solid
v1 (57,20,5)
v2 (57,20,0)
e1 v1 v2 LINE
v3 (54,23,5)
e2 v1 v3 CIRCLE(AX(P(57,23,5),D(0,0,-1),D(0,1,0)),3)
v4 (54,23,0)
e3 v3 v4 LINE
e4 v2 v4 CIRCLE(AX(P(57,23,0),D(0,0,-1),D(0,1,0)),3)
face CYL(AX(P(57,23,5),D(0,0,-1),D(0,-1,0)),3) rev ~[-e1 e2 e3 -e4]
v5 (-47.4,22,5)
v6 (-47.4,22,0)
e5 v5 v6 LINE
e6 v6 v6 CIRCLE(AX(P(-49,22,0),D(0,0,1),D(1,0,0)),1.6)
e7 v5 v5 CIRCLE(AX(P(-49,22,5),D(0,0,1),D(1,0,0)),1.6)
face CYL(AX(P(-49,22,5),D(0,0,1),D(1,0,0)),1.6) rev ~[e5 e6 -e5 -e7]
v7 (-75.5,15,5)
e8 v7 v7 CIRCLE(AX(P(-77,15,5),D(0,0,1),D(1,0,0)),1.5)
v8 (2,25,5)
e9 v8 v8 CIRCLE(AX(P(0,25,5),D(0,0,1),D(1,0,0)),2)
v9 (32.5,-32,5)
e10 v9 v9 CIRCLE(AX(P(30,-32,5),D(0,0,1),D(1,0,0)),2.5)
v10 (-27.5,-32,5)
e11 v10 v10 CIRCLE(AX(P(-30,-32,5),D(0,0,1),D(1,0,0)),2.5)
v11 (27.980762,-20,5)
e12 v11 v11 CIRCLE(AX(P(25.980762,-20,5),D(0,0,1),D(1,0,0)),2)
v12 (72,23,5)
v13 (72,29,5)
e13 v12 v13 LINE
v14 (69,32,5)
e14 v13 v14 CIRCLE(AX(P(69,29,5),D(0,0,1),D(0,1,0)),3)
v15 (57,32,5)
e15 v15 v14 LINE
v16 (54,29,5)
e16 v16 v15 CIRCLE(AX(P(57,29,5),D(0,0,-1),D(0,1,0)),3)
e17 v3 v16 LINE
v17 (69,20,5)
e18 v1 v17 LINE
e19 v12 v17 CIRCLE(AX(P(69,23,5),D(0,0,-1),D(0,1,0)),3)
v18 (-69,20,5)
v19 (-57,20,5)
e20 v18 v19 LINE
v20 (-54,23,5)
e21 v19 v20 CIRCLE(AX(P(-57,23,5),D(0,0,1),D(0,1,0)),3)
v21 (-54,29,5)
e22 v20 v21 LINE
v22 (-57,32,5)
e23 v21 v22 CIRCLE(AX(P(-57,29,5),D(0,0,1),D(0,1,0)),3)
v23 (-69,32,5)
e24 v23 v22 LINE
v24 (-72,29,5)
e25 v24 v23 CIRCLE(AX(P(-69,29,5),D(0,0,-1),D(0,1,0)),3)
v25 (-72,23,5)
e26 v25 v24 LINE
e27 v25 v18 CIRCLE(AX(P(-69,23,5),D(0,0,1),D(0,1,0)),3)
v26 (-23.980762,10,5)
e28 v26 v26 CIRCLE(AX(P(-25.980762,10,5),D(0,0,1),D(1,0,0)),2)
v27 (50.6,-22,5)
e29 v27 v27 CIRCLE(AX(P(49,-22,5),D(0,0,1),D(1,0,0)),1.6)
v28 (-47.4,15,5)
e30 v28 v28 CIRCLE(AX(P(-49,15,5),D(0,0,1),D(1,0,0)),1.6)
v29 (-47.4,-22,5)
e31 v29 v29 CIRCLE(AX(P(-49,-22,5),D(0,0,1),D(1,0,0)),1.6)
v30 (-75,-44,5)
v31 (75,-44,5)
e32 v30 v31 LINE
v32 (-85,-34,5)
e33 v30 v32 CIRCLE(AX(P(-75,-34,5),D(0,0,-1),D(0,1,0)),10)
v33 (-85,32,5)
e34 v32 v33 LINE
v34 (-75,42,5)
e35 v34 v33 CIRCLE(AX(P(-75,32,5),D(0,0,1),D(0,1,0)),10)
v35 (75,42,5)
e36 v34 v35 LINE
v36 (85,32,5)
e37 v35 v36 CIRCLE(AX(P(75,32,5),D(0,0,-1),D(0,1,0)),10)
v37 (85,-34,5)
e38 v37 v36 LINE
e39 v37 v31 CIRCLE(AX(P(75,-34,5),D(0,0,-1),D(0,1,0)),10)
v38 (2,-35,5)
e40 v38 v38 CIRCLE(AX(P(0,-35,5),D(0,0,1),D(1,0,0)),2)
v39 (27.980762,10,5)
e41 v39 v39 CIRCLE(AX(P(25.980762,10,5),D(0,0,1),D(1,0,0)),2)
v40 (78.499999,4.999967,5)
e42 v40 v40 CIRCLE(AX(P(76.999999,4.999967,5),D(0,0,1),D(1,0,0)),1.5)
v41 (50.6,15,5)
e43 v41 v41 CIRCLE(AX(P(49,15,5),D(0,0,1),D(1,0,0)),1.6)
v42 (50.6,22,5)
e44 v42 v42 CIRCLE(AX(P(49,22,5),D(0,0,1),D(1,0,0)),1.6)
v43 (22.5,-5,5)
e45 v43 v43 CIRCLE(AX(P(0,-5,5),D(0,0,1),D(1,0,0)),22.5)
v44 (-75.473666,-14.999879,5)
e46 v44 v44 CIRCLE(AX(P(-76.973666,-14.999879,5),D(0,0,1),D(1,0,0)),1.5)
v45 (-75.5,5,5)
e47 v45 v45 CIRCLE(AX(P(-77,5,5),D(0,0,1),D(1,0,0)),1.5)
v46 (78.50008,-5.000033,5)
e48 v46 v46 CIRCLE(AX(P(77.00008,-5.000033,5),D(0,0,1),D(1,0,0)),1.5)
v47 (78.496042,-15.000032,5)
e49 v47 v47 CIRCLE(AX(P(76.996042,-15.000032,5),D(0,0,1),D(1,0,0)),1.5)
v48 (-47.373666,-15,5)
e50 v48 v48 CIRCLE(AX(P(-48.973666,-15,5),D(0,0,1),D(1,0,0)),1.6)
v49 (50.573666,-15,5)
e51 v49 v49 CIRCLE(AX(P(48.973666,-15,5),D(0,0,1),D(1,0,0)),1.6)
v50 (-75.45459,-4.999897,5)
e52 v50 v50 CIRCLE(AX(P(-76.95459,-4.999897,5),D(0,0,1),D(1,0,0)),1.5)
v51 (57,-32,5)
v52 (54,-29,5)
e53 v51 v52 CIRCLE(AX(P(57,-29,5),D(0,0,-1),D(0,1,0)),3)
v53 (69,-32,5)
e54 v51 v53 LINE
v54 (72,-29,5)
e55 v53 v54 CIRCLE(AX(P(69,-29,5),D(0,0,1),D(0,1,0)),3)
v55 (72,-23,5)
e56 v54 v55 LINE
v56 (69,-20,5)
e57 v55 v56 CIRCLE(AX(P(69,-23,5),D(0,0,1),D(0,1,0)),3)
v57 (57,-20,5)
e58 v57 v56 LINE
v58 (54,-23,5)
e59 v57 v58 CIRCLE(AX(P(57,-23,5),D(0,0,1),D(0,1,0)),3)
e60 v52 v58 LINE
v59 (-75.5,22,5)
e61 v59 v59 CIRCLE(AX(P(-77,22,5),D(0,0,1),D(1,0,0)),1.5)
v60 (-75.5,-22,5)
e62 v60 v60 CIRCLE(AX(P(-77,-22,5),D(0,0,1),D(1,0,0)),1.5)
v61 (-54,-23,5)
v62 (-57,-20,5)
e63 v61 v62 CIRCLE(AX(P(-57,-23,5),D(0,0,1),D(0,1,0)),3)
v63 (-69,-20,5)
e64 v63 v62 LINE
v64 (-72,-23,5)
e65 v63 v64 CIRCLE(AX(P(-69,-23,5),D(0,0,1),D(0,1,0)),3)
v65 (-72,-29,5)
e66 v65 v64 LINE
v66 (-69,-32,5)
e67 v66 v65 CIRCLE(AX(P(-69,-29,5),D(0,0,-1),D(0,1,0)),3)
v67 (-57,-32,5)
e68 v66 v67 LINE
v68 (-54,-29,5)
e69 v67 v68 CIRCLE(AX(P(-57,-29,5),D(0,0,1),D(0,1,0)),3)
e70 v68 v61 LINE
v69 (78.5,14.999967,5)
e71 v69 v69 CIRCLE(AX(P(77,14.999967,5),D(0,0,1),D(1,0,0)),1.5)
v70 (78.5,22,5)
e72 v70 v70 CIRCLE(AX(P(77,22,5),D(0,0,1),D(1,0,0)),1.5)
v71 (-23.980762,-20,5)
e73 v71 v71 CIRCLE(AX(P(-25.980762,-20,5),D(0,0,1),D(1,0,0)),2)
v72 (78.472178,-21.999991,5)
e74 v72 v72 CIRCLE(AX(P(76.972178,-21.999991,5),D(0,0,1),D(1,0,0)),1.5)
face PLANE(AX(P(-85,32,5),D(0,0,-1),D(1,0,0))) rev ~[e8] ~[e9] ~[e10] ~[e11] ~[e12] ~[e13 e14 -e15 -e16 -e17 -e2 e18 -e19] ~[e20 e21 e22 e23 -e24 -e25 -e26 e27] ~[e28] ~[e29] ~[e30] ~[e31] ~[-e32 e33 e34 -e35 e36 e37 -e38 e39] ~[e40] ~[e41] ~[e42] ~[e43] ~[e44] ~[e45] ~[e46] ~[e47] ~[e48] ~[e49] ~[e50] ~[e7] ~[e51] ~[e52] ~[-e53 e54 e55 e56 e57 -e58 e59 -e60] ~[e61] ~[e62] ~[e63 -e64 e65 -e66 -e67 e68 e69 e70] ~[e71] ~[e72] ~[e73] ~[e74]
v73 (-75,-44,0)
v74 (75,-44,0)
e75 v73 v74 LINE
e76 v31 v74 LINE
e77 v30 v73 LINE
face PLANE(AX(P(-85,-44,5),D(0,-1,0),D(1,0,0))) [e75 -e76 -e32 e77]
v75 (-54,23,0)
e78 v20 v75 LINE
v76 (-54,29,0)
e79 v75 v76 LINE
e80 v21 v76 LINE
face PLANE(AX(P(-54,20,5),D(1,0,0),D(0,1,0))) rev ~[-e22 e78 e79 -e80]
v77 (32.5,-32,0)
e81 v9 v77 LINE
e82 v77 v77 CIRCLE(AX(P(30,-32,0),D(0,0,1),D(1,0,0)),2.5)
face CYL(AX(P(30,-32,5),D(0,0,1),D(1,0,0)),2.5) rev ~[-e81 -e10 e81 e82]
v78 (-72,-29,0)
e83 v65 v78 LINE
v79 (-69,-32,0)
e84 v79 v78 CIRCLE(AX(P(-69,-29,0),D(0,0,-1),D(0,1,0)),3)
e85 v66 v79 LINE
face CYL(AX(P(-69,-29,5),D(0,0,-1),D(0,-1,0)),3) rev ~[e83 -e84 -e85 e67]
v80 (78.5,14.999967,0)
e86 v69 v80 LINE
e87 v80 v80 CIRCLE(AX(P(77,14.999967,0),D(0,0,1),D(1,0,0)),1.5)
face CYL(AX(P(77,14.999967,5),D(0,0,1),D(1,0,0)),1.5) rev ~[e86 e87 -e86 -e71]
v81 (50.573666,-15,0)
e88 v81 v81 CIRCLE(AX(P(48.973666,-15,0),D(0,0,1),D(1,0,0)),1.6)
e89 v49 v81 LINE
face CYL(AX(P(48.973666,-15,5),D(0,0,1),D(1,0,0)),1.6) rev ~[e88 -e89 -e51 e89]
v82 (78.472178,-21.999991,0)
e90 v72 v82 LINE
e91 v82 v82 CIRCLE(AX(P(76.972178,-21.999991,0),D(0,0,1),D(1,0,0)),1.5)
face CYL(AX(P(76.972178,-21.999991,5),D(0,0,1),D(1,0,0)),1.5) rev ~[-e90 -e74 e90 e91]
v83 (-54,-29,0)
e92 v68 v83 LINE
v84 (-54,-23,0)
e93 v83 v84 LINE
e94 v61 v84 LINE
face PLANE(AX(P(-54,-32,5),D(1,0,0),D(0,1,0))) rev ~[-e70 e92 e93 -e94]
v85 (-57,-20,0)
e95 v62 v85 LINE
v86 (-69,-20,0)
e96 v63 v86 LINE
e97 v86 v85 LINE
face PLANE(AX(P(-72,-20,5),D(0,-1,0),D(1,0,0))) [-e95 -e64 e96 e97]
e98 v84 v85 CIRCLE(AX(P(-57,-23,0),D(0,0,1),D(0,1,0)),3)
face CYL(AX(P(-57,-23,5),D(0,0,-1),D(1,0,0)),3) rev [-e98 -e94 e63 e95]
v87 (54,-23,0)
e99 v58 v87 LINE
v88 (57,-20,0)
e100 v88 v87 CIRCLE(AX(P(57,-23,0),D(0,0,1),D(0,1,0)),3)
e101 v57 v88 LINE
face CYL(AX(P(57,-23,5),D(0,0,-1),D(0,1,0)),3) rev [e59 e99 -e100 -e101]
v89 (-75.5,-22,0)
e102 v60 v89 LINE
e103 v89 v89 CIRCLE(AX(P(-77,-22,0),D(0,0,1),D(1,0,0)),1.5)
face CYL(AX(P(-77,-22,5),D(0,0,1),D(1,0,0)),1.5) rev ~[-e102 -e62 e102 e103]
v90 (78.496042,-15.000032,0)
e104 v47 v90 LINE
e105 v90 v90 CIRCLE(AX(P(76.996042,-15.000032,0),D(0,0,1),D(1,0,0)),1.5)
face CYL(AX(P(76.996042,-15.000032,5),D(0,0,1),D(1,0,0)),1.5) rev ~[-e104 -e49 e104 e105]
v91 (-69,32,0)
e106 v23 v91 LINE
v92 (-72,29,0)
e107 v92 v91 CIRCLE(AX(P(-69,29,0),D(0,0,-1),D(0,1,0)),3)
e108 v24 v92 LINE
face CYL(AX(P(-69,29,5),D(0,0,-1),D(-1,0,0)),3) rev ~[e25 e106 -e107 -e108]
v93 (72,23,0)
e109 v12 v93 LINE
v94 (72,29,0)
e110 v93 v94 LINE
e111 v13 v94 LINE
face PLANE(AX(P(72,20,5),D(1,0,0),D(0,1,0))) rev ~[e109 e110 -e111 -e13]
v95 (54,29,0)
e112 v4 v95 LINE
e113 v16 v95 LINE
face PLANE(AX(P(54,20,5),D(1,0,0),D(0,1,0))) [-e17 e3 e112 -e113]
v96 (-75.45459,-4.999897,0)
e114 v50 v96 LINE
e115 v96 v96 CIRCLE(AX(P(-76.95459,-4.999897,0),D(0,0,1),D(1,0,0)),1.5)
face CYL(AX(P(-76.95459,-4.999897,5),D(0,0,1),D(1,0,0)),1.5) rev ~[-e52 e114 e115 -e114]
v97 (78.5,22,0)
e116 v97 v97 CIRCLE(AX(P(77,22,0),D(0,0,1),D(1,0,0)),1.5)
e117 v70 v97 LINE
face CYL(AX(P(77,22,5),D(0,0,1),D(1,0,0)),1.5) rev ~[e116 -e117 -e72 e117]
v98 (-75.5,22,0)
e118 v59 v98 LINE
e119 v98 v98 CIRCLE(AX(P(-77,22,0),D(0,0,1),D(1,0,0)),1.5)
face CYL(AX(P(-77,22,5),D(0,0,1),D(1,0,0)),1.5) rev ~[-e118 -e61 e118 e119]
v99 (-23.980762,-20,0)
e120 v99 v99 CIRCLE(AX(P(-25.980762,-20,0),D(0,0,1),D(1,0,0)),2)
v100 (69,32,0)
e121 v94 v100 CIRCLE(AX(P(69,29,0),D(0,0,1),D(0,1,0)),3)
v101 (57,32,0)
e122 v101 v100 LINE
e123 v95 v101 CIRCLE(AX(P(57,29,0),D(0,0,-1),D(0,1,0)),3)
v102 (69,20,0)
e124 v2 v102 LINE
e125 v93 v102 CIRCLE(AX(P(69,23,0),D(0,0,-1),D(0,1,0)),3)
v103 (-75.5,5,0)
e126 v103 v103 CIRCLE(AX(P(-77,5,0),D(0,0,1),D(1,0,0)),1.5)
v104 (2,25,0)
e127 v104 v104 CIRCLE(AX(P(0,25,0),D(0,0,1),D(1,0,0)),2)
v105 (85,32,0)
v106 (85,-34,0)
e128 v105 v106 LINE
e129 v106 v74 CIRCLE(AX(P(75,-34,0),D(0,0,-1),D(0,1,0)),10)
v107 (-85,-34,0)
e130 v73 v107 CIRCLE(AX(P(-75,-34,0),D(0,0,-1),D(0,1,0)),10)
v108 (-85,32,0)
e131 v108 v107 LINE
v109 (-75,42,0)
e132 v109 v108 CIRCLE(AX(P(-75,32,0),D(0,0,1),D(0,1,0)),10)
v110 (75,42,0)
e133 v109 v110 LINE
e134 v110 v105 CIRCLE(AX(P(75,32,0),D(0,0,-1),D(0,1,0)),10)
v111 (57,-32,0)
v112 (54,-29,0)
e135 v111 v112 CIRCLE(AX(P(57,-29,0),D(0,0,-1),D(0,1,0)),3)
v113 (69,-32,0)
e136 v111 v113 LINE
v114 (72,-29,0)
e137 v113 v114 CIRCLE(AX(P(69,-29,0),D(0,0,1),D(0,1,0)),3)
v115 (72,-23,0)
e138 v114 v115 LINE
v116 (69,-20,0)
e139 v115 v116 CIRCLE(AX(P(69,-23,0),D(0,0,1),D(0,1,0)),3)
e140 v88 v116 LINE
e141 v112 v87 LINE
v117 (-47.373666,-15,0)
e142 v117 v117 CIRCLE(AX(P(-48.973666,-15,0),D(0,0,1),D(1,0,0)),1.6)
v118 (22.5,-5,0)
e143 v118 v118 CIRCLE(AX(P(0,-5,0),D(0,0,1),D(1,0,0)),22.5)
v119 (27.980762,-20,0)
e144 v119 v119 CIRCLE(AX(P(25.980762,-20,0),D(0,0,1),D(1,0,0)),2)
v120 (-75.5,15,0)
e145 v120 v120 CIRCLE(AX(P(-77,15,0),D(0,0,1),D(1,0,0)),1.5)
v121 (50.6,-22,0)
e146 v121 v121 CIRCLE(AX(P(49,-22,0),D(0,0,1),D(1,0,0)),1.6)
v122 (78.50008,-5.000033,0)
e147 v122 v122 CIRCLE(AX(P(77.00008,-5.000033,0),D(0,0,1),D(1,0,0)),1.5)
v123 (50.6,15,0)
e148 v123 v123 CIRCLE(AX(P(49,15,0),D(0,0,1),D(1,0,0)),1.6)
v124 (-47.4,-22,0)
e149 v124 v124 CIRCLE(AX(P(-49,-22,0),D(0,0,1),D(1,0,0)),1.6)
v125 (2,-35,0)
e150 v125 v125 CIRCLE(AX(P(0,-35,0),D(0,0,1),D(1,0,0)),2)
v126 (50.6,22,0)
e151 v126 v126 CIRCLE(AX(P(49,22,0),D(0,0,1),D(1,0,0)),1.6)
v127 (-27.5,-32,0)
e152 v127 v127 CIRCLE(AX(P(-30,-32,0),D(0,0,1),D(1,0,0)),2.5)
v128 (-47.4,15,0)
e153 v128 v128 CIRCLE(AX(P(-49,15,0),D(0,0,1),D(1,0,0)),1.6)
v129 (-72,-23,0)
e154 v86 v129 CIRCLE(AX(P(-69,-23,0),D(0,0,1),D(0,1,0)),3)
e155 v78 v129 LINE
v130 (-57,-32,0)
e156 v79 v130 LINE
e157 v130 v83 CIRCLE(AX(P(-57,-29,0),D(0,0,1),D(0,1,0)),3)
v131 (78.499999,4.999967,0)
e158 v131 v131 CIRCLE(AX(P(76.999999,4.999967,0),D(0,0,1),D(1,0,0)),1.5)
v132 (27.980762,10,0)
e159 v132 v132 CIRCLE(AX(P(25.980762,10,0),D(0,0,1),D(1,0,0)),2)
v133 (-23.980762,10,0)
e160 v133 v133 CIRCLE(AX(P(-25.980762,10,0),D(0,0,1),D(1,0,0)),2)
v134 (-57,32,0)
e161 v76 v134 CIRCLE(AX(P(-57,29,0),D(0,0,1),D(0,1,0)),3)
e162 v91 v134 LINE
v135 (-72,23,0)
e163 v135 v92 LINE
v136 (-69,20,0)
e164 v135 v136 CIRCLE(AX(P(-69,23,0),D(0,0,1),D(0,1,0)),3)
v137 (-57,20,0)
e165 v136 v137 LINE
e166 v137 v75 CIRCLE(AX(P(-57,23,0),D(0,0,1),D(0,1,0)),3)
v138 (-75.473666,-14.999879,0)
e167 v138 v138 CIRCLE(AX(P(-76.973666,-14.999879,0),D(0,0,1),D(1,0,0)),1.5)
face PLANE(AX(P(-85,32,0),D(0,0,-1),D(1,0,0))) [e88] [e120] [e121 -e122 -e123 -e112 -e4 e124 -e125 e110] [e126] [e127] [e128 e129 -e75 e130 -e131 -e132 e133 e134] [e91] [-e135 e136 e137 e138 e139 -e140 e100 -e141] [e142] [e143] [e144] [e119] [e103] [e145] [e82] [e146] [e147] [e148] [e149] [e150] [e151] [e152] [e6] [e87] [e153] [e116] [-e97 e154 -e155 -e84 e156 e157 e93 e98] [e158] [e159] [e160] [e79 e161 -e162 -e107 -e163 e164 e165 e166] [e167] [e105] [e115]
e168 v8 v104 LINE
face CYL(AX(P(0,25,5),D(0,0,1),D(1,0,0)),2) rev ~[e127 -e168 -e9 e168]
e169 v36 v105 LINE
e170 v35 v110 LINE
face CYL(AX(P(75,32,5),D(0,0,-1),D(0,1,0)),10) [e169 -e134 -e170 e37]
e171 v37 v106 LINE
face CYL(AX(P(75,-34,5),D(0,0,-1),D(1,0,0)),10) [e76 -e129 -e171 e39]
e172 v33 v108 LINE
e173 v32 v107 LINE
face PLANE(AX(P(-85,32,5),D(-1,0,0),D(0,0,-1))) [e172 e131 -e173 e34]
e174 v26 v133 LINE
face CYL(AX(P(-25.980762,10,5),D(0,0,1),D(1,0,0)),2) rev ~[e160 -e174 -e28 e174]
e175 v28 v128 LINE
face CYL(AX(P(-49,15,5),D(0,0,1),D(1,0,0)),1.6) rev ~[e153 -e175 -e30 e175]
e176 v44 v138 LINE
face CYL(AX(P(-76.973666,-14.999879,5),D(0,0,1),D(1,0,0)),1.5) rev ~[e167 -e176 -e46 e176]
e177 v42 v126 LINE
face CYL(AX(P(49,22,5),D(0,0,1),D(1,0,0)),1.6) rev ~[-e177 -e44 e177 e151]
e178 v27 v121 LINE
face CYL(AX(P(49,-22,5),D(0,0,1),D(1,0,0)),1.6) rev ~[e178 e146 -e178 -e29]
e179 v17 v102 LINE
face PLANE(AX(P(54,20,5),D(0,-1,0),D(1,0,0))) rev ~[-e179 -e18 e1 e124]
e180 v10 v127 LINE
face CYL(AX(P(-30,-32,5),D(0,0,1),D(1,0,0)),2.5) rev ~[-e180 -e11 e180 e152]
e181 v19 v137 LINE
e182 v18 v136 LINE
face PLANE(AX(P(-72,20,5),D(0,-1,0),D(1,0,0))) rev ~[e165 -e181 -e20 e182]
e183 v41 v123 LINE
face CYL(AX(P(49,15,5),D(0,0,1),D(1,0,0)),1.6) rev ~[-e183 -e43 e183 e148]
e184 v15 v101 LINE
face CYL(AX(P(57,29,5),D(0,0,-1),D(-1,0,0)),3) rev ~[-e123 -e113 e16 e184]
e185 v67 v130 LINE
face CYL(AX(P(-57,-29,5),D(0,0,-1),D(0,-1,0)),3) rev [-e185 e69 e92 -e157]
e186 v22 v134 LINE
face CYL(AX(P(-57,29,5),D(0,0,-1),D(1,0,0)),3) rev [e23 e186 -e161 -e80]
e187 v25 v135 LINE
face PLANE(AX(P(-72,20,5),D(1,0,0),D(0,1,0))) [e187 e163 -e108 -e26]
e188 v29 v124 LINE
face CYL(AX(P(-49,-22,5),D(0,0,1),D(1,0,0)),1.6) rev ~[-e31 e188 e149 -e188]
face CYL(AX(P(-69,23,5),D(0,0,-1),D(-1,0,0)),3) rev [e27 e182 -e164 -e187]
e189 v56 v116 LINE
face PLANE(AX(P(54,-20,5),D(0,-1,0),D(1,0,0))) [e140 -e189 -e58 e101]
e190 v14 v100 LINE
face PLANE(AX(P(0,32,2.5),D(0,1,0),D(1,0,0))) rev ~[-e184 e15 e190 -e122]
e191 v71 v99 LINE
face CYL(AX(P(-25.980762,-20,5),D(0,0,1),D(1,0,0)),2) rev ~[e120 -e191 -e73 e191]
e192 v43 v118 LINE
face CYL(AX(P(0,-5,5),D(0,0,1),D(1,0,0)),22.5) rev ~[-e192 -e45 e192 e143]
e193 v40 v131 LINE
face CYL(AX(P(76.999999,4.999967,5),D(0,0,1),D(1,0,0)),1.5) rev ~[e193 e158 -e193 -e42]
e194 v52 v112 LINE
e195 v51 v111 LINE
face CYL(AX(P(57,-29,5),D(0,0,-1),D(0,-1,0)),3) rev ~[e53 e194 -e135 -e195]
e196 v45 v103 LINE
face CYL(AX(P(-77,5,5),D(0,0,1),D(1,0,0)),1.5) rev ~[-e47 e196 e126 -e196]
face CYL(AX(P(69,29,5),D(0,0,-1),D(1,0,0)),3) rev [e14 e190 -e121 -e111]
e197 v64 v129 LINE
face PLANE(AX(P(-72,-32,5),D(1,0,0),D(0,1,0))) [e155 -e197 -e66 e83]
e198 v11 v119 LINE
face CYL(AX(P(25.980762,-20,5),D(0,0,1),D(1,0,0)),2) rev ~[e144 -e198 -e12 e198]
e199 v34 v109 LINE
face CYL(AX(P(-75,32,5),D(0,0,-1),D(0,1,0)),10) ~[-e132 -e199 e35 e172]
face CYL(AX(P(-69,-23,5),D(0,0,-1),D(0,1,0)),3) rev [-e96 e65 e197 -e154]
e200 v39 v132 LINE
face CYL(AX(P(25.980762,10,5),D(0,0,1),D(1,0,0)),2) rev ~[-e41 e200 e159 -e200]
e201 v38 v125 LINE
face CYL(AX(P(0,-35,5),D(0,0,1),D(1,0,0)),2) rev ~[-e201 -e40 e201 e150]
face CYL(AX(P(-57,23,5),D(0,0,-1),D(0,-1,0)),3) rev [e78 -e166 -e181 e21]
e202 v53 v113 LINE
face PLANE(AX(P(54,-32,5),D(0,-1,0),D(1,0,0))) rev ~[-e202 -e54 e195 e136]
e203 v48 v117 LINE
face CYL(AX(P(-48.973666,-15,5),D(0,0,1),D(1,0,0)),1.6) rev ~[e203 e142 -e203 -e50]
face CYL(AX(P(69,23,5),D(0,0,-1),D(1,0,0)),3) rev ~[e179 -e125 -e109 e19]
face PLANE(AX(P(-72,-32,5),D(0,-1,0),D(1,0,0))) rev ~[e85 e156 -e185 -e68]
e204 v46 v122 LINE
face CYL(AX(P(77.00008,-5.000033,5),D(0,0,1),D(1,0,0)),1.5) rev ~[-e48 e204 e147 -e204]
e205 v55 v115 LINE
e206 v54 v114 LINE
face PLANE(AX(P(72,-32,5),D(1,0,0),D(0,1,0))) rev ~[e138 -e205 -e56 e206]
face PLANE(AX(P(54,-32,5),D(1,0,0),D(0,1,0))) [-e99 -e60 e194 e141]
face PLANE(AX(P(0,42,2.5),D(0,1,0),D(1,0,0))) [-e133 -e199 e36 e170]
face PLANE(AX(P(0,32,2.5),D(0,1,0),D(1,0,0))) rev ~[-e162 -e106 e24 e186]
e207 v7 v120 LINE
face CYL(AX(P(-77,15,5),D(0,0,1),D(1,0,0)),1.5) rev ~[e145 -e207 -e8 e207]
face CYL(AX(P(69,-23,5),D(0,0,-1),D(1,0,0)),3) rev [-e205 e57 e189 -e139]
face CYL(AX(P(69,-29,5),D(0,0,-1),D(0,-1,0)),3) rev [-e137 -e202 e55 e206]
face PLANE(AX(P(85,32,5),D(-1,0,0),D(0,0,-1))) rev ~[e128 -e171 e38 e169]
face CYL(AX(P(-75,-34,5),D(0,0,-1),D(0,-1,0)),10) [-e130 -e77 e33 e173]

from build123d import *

# Parameters (mm, degrees)
SKETCH_1_W           = 170
SKETCH_1_H           = 100
EXTRUDE_1_DEPTH      = 5
SKETCH_3_R           = 1.5
CUT_EXTRUDE_2_DEPTH  = 99.742088291
SKETCH_5_R           = 22.5
CUT_EXTRUDE_4_DEPTH  = 99.742088291
SKETCH_6_W           = 170
SKETCH_6_H           = 6
CUT_EXTRUDE_5_DEPTH  = 99.742088291
SKETCH_7_R           = 2.5
CUT_EXTRUDE_6_DEPTH  = 99.742088291
SKETCH_8_W           = 170
SKETCH_8_H           = 18
CUT_EXTRUDE_7_DEPTH  = 10
SKETCH_9_W           = 18
SKETCH_9_H           = 12
CUT_EXTRUDE_9_DEPTH  = 10
SKETCH_10_W          = 18
SKETCH_10_H          = 12
CUT_EXTRUDE_10_DEPTH = 10
FILLET_3_R           = 3
SKETCH_11_W          = 170
SKETCH_11_H          = 5
EXTRUDE_2_DEPTH      = 10
FILLET_4_R           = 3
FILLET_5_R           = 10
SKETCH_12_R          = 1.6
CUT_EXTRUDE_11_DEPTH = 96.843622636
SKETCH_13_R          = 2
CUT_EXTRUDE_12_DEPTH = 17


with BuildPart() as part:
    # 草图1 → 凸台-拉伸1 (new body)
    with BuildSketch(Plane.XY):
        Rectangle(SKETCH_1_W, SKETCH_1_H)
    extrude(amount=EXTRUDE_1_DEPTH)

    # 草图3 → 切除-拉伸2 (cut, through all)
    with BuildSketch(Plane.XY.offset(5)):
        with Locations((-77, 22)):
            Circle(SKETCH_3_R)
        with Locations((-77, -22)):
            Circle(SKETCH_3_R)
        with Locations((77, 22)):
            Circle(SKETCH_3_R)
        with Locations((76.972177567, -21.999991204)):
            Circle(SKETCH_3_R)
        with Locations((-77, 15)):
            Circle(SKETCH_3_R)
        with Locations((-77, 5)):
            Circle(SKETCH_3_R)
        with Locations((-76.95458974, -4.999896895)):
            Circle(SKETCH_3_R)
        with Locations((-76.973665901, -14.9998787)):
            Circle(SKETCH_3_R)
        with Locations((77, 14.9999673)):
            Circle(SKETCH_3_R)
        with Locations((76.999998846, 4.9999673)):
            Circle(SKETCH_3_R)
        with Locations((77.000079735, -5.000032699)):
            Circle(SKETCH_3_R)
        with Locations((76.996042364, -15.000031884)):
            Circle(SKETCH_3_R)
    extrude(amount=-CUT_EXTRUDE_2_DEPTH, mode=Mode.SUBTRACT)

    # 草图5 → 切除-拉伸4 (cut, through all)
    with BuildSketch(Plane.XY.offset(5)):
        with Locations((0, -5)):
            Circle(SKETCH_5_R)
    extrude(amount=-CUT_EXTRUDE_4_DEPTH, mode=Mode.SUBTRACT)

    # 草图6 → 切除-拉伸5 (cut, through all)
    with BuildSketch(Plane.XY.offset(5)):
        with Locations((0, -47)):
            Rectangle(SKETCH_6_W, SKETCH_6_H)
    extrude(amount=-CUT_EXTRUDE_5_DEPTH, mode=Mode.SUBTRACT)

    # 草图7 → 切除-拉伸6 (cut, through all)
    with BuildSketch(Plane.XY.offset(5)):
        with Locations((30, -32)):
            Circle(SKETCH_7_R)
        with Locations((-30, -32)):
            Circle(SKETCH_7_R)
    extrude(amount=-CUT_EXTRUDE_6_DEPTH, mode=Mode.SUBTRACT)

    # 草图8 → 切除-拉伸7 (cut)
    with BuildSketch(Plane.XY.offset(5)):
        with Locations((0, 41)):
            Rectangle(SKETCH_8_W, SKETCH_8_H)
    extrude(amount=-CUT_EXTRUDE_7_DEPTH, mode=Mode.SUBTRACT)

    # 草图9 → 切除-拉伸9 (cut)
    with BuildSketch(Plane.XY.offset(5)):
        with Locations((-63, 26)):
            Rectangle(SKETCH_9_W, SKETCH_9_H)
        with Locations((63, 26)):
            Rectangle(SKETCH_9_W, SKETCH_9_H)
    extrude(amount=-CUT_EXTRUDE_9_DEPTH, mode=Mode.SUBTRACT)

    # 草图10 → 切除-拉伸10 (cut)
    with BuildSketch(Plane.XY.offset(5)):
        with Locations((-63, -26)):
            Rectangle(SKETCH_10_W, SKETCH_10_H)
        with Locations((63, -26)):
            Rectangle(SKETCH_10_W, SKETCH_10_H)
    extrude(amount=-CUT_EXTRUDE_10_DEPTH, mode=Mode.SUBTRACT)

    # 圆角3
    fillet_3_edges = [part.edges().sort_by_distance(p)[0] for p in [
        (-54, 20, 2.5),
        (-72, 20, 2.5),
        (54, 20, 2.5),
        (72, 20, 2.5),
        (-72, -32, 2.5),
        (-72, -20, 2.5),
        (-54, -20, 2.5),
        (-54, -32, 2.5),
        (72, -20, 2.5),
        (72, -32, 2.5),
        (54, -32, 2.5),
        (54, -20, 2.5),
    ]]
    fillet(fillet_3_edges, radius=FILLET_3_R)

    # 草图11 → 凸台-拉伸2 (add)
    with BuildSketch(Plane(origin=(0, 32, 0), x_dir=(1, 0, 0), z_dir=(0, 1, 0))):
        with Locations((0, -2.5)):
            Rectangle(SKETCH_11_W, SKETCH_11_H)
    extrude(amount=EXTRUDE_2_DEPTH)

    # 圆角4
    fillet_4_edges = [part.edges().sort_by_distance(p)[0] for p in [
        (-72, 32, 2.5),
        (-54, 32, 2.5),
        (54, 32, 2.5),
        (72, 32, 2.5),
    ]]
    fillet(fillet_4_edges, radius=FILLET_4_R)

    # 圆角5
    fillet_5_edges = [part.edges().sort_by_distance(p)[0] for p in [
        (-85, 42, 2.5),
        (85, 42, 2.5),
        (-85, -44, 2.5),
        (85, -44, 2.5),
    ]]
    fillet(fillet_5_edges, radius=FILLET_5_R)

    # 草图12 → 切除-拉伸11 (cut, through all)
    with BuildSketch(Plane.XY.offset(5)):
        with Locations((-49, 22)):
            Circle(SKETCH_12_R)
        with Locations((-49, 15)):
            Circle(SKETCH_12_R)
        with Locations((-48.973665901, -15)):
            Circle(SKETCH_12_R)
        with Locations((-49, -22)):
            Circle(SKETCH_12_R)
        with Locations((49, 22)):
            Circle(SKETCH_12_R)
        with Locations((49, 15)):
            Circle(SKETCH_12_R)
        with Locations((48.973665901, -15)):
            Circle(SKETCH_12_R)
        with Locations((49, -22)):
            Circle(SKETCH_12_R)
    extrude(amount=-CUT_EXTRUDE_11_DEPTH, mode=Mode.SUBTRACT)

    # 草图13 → 切除-拉伸12 (cut)
    with BuildSketch(Plane.XY.offset(5)):
        with Locations((25.980762114, 10)):
            Circle(SKETCH_13_R)
        with Locations((25.980762114, -20)):
            Circle(SKETCH_13_R)
        with Locations((0, 25)):
            Circle(SKETCH_13_R)
        with Locations((0, -35)):
            Circle(SKETCH_13_R)
        with Locations((-25.980762114, 10)):
            Circle(SKETCH_13_R)
        with Locations((-25.980762114, -20)):
            Circle(SKETCH_13_R)
    extrude(amount=-CUT_EXTRUDE_12_DEPTH, mode=Mode.SUBTRACT)


solid = part.part
